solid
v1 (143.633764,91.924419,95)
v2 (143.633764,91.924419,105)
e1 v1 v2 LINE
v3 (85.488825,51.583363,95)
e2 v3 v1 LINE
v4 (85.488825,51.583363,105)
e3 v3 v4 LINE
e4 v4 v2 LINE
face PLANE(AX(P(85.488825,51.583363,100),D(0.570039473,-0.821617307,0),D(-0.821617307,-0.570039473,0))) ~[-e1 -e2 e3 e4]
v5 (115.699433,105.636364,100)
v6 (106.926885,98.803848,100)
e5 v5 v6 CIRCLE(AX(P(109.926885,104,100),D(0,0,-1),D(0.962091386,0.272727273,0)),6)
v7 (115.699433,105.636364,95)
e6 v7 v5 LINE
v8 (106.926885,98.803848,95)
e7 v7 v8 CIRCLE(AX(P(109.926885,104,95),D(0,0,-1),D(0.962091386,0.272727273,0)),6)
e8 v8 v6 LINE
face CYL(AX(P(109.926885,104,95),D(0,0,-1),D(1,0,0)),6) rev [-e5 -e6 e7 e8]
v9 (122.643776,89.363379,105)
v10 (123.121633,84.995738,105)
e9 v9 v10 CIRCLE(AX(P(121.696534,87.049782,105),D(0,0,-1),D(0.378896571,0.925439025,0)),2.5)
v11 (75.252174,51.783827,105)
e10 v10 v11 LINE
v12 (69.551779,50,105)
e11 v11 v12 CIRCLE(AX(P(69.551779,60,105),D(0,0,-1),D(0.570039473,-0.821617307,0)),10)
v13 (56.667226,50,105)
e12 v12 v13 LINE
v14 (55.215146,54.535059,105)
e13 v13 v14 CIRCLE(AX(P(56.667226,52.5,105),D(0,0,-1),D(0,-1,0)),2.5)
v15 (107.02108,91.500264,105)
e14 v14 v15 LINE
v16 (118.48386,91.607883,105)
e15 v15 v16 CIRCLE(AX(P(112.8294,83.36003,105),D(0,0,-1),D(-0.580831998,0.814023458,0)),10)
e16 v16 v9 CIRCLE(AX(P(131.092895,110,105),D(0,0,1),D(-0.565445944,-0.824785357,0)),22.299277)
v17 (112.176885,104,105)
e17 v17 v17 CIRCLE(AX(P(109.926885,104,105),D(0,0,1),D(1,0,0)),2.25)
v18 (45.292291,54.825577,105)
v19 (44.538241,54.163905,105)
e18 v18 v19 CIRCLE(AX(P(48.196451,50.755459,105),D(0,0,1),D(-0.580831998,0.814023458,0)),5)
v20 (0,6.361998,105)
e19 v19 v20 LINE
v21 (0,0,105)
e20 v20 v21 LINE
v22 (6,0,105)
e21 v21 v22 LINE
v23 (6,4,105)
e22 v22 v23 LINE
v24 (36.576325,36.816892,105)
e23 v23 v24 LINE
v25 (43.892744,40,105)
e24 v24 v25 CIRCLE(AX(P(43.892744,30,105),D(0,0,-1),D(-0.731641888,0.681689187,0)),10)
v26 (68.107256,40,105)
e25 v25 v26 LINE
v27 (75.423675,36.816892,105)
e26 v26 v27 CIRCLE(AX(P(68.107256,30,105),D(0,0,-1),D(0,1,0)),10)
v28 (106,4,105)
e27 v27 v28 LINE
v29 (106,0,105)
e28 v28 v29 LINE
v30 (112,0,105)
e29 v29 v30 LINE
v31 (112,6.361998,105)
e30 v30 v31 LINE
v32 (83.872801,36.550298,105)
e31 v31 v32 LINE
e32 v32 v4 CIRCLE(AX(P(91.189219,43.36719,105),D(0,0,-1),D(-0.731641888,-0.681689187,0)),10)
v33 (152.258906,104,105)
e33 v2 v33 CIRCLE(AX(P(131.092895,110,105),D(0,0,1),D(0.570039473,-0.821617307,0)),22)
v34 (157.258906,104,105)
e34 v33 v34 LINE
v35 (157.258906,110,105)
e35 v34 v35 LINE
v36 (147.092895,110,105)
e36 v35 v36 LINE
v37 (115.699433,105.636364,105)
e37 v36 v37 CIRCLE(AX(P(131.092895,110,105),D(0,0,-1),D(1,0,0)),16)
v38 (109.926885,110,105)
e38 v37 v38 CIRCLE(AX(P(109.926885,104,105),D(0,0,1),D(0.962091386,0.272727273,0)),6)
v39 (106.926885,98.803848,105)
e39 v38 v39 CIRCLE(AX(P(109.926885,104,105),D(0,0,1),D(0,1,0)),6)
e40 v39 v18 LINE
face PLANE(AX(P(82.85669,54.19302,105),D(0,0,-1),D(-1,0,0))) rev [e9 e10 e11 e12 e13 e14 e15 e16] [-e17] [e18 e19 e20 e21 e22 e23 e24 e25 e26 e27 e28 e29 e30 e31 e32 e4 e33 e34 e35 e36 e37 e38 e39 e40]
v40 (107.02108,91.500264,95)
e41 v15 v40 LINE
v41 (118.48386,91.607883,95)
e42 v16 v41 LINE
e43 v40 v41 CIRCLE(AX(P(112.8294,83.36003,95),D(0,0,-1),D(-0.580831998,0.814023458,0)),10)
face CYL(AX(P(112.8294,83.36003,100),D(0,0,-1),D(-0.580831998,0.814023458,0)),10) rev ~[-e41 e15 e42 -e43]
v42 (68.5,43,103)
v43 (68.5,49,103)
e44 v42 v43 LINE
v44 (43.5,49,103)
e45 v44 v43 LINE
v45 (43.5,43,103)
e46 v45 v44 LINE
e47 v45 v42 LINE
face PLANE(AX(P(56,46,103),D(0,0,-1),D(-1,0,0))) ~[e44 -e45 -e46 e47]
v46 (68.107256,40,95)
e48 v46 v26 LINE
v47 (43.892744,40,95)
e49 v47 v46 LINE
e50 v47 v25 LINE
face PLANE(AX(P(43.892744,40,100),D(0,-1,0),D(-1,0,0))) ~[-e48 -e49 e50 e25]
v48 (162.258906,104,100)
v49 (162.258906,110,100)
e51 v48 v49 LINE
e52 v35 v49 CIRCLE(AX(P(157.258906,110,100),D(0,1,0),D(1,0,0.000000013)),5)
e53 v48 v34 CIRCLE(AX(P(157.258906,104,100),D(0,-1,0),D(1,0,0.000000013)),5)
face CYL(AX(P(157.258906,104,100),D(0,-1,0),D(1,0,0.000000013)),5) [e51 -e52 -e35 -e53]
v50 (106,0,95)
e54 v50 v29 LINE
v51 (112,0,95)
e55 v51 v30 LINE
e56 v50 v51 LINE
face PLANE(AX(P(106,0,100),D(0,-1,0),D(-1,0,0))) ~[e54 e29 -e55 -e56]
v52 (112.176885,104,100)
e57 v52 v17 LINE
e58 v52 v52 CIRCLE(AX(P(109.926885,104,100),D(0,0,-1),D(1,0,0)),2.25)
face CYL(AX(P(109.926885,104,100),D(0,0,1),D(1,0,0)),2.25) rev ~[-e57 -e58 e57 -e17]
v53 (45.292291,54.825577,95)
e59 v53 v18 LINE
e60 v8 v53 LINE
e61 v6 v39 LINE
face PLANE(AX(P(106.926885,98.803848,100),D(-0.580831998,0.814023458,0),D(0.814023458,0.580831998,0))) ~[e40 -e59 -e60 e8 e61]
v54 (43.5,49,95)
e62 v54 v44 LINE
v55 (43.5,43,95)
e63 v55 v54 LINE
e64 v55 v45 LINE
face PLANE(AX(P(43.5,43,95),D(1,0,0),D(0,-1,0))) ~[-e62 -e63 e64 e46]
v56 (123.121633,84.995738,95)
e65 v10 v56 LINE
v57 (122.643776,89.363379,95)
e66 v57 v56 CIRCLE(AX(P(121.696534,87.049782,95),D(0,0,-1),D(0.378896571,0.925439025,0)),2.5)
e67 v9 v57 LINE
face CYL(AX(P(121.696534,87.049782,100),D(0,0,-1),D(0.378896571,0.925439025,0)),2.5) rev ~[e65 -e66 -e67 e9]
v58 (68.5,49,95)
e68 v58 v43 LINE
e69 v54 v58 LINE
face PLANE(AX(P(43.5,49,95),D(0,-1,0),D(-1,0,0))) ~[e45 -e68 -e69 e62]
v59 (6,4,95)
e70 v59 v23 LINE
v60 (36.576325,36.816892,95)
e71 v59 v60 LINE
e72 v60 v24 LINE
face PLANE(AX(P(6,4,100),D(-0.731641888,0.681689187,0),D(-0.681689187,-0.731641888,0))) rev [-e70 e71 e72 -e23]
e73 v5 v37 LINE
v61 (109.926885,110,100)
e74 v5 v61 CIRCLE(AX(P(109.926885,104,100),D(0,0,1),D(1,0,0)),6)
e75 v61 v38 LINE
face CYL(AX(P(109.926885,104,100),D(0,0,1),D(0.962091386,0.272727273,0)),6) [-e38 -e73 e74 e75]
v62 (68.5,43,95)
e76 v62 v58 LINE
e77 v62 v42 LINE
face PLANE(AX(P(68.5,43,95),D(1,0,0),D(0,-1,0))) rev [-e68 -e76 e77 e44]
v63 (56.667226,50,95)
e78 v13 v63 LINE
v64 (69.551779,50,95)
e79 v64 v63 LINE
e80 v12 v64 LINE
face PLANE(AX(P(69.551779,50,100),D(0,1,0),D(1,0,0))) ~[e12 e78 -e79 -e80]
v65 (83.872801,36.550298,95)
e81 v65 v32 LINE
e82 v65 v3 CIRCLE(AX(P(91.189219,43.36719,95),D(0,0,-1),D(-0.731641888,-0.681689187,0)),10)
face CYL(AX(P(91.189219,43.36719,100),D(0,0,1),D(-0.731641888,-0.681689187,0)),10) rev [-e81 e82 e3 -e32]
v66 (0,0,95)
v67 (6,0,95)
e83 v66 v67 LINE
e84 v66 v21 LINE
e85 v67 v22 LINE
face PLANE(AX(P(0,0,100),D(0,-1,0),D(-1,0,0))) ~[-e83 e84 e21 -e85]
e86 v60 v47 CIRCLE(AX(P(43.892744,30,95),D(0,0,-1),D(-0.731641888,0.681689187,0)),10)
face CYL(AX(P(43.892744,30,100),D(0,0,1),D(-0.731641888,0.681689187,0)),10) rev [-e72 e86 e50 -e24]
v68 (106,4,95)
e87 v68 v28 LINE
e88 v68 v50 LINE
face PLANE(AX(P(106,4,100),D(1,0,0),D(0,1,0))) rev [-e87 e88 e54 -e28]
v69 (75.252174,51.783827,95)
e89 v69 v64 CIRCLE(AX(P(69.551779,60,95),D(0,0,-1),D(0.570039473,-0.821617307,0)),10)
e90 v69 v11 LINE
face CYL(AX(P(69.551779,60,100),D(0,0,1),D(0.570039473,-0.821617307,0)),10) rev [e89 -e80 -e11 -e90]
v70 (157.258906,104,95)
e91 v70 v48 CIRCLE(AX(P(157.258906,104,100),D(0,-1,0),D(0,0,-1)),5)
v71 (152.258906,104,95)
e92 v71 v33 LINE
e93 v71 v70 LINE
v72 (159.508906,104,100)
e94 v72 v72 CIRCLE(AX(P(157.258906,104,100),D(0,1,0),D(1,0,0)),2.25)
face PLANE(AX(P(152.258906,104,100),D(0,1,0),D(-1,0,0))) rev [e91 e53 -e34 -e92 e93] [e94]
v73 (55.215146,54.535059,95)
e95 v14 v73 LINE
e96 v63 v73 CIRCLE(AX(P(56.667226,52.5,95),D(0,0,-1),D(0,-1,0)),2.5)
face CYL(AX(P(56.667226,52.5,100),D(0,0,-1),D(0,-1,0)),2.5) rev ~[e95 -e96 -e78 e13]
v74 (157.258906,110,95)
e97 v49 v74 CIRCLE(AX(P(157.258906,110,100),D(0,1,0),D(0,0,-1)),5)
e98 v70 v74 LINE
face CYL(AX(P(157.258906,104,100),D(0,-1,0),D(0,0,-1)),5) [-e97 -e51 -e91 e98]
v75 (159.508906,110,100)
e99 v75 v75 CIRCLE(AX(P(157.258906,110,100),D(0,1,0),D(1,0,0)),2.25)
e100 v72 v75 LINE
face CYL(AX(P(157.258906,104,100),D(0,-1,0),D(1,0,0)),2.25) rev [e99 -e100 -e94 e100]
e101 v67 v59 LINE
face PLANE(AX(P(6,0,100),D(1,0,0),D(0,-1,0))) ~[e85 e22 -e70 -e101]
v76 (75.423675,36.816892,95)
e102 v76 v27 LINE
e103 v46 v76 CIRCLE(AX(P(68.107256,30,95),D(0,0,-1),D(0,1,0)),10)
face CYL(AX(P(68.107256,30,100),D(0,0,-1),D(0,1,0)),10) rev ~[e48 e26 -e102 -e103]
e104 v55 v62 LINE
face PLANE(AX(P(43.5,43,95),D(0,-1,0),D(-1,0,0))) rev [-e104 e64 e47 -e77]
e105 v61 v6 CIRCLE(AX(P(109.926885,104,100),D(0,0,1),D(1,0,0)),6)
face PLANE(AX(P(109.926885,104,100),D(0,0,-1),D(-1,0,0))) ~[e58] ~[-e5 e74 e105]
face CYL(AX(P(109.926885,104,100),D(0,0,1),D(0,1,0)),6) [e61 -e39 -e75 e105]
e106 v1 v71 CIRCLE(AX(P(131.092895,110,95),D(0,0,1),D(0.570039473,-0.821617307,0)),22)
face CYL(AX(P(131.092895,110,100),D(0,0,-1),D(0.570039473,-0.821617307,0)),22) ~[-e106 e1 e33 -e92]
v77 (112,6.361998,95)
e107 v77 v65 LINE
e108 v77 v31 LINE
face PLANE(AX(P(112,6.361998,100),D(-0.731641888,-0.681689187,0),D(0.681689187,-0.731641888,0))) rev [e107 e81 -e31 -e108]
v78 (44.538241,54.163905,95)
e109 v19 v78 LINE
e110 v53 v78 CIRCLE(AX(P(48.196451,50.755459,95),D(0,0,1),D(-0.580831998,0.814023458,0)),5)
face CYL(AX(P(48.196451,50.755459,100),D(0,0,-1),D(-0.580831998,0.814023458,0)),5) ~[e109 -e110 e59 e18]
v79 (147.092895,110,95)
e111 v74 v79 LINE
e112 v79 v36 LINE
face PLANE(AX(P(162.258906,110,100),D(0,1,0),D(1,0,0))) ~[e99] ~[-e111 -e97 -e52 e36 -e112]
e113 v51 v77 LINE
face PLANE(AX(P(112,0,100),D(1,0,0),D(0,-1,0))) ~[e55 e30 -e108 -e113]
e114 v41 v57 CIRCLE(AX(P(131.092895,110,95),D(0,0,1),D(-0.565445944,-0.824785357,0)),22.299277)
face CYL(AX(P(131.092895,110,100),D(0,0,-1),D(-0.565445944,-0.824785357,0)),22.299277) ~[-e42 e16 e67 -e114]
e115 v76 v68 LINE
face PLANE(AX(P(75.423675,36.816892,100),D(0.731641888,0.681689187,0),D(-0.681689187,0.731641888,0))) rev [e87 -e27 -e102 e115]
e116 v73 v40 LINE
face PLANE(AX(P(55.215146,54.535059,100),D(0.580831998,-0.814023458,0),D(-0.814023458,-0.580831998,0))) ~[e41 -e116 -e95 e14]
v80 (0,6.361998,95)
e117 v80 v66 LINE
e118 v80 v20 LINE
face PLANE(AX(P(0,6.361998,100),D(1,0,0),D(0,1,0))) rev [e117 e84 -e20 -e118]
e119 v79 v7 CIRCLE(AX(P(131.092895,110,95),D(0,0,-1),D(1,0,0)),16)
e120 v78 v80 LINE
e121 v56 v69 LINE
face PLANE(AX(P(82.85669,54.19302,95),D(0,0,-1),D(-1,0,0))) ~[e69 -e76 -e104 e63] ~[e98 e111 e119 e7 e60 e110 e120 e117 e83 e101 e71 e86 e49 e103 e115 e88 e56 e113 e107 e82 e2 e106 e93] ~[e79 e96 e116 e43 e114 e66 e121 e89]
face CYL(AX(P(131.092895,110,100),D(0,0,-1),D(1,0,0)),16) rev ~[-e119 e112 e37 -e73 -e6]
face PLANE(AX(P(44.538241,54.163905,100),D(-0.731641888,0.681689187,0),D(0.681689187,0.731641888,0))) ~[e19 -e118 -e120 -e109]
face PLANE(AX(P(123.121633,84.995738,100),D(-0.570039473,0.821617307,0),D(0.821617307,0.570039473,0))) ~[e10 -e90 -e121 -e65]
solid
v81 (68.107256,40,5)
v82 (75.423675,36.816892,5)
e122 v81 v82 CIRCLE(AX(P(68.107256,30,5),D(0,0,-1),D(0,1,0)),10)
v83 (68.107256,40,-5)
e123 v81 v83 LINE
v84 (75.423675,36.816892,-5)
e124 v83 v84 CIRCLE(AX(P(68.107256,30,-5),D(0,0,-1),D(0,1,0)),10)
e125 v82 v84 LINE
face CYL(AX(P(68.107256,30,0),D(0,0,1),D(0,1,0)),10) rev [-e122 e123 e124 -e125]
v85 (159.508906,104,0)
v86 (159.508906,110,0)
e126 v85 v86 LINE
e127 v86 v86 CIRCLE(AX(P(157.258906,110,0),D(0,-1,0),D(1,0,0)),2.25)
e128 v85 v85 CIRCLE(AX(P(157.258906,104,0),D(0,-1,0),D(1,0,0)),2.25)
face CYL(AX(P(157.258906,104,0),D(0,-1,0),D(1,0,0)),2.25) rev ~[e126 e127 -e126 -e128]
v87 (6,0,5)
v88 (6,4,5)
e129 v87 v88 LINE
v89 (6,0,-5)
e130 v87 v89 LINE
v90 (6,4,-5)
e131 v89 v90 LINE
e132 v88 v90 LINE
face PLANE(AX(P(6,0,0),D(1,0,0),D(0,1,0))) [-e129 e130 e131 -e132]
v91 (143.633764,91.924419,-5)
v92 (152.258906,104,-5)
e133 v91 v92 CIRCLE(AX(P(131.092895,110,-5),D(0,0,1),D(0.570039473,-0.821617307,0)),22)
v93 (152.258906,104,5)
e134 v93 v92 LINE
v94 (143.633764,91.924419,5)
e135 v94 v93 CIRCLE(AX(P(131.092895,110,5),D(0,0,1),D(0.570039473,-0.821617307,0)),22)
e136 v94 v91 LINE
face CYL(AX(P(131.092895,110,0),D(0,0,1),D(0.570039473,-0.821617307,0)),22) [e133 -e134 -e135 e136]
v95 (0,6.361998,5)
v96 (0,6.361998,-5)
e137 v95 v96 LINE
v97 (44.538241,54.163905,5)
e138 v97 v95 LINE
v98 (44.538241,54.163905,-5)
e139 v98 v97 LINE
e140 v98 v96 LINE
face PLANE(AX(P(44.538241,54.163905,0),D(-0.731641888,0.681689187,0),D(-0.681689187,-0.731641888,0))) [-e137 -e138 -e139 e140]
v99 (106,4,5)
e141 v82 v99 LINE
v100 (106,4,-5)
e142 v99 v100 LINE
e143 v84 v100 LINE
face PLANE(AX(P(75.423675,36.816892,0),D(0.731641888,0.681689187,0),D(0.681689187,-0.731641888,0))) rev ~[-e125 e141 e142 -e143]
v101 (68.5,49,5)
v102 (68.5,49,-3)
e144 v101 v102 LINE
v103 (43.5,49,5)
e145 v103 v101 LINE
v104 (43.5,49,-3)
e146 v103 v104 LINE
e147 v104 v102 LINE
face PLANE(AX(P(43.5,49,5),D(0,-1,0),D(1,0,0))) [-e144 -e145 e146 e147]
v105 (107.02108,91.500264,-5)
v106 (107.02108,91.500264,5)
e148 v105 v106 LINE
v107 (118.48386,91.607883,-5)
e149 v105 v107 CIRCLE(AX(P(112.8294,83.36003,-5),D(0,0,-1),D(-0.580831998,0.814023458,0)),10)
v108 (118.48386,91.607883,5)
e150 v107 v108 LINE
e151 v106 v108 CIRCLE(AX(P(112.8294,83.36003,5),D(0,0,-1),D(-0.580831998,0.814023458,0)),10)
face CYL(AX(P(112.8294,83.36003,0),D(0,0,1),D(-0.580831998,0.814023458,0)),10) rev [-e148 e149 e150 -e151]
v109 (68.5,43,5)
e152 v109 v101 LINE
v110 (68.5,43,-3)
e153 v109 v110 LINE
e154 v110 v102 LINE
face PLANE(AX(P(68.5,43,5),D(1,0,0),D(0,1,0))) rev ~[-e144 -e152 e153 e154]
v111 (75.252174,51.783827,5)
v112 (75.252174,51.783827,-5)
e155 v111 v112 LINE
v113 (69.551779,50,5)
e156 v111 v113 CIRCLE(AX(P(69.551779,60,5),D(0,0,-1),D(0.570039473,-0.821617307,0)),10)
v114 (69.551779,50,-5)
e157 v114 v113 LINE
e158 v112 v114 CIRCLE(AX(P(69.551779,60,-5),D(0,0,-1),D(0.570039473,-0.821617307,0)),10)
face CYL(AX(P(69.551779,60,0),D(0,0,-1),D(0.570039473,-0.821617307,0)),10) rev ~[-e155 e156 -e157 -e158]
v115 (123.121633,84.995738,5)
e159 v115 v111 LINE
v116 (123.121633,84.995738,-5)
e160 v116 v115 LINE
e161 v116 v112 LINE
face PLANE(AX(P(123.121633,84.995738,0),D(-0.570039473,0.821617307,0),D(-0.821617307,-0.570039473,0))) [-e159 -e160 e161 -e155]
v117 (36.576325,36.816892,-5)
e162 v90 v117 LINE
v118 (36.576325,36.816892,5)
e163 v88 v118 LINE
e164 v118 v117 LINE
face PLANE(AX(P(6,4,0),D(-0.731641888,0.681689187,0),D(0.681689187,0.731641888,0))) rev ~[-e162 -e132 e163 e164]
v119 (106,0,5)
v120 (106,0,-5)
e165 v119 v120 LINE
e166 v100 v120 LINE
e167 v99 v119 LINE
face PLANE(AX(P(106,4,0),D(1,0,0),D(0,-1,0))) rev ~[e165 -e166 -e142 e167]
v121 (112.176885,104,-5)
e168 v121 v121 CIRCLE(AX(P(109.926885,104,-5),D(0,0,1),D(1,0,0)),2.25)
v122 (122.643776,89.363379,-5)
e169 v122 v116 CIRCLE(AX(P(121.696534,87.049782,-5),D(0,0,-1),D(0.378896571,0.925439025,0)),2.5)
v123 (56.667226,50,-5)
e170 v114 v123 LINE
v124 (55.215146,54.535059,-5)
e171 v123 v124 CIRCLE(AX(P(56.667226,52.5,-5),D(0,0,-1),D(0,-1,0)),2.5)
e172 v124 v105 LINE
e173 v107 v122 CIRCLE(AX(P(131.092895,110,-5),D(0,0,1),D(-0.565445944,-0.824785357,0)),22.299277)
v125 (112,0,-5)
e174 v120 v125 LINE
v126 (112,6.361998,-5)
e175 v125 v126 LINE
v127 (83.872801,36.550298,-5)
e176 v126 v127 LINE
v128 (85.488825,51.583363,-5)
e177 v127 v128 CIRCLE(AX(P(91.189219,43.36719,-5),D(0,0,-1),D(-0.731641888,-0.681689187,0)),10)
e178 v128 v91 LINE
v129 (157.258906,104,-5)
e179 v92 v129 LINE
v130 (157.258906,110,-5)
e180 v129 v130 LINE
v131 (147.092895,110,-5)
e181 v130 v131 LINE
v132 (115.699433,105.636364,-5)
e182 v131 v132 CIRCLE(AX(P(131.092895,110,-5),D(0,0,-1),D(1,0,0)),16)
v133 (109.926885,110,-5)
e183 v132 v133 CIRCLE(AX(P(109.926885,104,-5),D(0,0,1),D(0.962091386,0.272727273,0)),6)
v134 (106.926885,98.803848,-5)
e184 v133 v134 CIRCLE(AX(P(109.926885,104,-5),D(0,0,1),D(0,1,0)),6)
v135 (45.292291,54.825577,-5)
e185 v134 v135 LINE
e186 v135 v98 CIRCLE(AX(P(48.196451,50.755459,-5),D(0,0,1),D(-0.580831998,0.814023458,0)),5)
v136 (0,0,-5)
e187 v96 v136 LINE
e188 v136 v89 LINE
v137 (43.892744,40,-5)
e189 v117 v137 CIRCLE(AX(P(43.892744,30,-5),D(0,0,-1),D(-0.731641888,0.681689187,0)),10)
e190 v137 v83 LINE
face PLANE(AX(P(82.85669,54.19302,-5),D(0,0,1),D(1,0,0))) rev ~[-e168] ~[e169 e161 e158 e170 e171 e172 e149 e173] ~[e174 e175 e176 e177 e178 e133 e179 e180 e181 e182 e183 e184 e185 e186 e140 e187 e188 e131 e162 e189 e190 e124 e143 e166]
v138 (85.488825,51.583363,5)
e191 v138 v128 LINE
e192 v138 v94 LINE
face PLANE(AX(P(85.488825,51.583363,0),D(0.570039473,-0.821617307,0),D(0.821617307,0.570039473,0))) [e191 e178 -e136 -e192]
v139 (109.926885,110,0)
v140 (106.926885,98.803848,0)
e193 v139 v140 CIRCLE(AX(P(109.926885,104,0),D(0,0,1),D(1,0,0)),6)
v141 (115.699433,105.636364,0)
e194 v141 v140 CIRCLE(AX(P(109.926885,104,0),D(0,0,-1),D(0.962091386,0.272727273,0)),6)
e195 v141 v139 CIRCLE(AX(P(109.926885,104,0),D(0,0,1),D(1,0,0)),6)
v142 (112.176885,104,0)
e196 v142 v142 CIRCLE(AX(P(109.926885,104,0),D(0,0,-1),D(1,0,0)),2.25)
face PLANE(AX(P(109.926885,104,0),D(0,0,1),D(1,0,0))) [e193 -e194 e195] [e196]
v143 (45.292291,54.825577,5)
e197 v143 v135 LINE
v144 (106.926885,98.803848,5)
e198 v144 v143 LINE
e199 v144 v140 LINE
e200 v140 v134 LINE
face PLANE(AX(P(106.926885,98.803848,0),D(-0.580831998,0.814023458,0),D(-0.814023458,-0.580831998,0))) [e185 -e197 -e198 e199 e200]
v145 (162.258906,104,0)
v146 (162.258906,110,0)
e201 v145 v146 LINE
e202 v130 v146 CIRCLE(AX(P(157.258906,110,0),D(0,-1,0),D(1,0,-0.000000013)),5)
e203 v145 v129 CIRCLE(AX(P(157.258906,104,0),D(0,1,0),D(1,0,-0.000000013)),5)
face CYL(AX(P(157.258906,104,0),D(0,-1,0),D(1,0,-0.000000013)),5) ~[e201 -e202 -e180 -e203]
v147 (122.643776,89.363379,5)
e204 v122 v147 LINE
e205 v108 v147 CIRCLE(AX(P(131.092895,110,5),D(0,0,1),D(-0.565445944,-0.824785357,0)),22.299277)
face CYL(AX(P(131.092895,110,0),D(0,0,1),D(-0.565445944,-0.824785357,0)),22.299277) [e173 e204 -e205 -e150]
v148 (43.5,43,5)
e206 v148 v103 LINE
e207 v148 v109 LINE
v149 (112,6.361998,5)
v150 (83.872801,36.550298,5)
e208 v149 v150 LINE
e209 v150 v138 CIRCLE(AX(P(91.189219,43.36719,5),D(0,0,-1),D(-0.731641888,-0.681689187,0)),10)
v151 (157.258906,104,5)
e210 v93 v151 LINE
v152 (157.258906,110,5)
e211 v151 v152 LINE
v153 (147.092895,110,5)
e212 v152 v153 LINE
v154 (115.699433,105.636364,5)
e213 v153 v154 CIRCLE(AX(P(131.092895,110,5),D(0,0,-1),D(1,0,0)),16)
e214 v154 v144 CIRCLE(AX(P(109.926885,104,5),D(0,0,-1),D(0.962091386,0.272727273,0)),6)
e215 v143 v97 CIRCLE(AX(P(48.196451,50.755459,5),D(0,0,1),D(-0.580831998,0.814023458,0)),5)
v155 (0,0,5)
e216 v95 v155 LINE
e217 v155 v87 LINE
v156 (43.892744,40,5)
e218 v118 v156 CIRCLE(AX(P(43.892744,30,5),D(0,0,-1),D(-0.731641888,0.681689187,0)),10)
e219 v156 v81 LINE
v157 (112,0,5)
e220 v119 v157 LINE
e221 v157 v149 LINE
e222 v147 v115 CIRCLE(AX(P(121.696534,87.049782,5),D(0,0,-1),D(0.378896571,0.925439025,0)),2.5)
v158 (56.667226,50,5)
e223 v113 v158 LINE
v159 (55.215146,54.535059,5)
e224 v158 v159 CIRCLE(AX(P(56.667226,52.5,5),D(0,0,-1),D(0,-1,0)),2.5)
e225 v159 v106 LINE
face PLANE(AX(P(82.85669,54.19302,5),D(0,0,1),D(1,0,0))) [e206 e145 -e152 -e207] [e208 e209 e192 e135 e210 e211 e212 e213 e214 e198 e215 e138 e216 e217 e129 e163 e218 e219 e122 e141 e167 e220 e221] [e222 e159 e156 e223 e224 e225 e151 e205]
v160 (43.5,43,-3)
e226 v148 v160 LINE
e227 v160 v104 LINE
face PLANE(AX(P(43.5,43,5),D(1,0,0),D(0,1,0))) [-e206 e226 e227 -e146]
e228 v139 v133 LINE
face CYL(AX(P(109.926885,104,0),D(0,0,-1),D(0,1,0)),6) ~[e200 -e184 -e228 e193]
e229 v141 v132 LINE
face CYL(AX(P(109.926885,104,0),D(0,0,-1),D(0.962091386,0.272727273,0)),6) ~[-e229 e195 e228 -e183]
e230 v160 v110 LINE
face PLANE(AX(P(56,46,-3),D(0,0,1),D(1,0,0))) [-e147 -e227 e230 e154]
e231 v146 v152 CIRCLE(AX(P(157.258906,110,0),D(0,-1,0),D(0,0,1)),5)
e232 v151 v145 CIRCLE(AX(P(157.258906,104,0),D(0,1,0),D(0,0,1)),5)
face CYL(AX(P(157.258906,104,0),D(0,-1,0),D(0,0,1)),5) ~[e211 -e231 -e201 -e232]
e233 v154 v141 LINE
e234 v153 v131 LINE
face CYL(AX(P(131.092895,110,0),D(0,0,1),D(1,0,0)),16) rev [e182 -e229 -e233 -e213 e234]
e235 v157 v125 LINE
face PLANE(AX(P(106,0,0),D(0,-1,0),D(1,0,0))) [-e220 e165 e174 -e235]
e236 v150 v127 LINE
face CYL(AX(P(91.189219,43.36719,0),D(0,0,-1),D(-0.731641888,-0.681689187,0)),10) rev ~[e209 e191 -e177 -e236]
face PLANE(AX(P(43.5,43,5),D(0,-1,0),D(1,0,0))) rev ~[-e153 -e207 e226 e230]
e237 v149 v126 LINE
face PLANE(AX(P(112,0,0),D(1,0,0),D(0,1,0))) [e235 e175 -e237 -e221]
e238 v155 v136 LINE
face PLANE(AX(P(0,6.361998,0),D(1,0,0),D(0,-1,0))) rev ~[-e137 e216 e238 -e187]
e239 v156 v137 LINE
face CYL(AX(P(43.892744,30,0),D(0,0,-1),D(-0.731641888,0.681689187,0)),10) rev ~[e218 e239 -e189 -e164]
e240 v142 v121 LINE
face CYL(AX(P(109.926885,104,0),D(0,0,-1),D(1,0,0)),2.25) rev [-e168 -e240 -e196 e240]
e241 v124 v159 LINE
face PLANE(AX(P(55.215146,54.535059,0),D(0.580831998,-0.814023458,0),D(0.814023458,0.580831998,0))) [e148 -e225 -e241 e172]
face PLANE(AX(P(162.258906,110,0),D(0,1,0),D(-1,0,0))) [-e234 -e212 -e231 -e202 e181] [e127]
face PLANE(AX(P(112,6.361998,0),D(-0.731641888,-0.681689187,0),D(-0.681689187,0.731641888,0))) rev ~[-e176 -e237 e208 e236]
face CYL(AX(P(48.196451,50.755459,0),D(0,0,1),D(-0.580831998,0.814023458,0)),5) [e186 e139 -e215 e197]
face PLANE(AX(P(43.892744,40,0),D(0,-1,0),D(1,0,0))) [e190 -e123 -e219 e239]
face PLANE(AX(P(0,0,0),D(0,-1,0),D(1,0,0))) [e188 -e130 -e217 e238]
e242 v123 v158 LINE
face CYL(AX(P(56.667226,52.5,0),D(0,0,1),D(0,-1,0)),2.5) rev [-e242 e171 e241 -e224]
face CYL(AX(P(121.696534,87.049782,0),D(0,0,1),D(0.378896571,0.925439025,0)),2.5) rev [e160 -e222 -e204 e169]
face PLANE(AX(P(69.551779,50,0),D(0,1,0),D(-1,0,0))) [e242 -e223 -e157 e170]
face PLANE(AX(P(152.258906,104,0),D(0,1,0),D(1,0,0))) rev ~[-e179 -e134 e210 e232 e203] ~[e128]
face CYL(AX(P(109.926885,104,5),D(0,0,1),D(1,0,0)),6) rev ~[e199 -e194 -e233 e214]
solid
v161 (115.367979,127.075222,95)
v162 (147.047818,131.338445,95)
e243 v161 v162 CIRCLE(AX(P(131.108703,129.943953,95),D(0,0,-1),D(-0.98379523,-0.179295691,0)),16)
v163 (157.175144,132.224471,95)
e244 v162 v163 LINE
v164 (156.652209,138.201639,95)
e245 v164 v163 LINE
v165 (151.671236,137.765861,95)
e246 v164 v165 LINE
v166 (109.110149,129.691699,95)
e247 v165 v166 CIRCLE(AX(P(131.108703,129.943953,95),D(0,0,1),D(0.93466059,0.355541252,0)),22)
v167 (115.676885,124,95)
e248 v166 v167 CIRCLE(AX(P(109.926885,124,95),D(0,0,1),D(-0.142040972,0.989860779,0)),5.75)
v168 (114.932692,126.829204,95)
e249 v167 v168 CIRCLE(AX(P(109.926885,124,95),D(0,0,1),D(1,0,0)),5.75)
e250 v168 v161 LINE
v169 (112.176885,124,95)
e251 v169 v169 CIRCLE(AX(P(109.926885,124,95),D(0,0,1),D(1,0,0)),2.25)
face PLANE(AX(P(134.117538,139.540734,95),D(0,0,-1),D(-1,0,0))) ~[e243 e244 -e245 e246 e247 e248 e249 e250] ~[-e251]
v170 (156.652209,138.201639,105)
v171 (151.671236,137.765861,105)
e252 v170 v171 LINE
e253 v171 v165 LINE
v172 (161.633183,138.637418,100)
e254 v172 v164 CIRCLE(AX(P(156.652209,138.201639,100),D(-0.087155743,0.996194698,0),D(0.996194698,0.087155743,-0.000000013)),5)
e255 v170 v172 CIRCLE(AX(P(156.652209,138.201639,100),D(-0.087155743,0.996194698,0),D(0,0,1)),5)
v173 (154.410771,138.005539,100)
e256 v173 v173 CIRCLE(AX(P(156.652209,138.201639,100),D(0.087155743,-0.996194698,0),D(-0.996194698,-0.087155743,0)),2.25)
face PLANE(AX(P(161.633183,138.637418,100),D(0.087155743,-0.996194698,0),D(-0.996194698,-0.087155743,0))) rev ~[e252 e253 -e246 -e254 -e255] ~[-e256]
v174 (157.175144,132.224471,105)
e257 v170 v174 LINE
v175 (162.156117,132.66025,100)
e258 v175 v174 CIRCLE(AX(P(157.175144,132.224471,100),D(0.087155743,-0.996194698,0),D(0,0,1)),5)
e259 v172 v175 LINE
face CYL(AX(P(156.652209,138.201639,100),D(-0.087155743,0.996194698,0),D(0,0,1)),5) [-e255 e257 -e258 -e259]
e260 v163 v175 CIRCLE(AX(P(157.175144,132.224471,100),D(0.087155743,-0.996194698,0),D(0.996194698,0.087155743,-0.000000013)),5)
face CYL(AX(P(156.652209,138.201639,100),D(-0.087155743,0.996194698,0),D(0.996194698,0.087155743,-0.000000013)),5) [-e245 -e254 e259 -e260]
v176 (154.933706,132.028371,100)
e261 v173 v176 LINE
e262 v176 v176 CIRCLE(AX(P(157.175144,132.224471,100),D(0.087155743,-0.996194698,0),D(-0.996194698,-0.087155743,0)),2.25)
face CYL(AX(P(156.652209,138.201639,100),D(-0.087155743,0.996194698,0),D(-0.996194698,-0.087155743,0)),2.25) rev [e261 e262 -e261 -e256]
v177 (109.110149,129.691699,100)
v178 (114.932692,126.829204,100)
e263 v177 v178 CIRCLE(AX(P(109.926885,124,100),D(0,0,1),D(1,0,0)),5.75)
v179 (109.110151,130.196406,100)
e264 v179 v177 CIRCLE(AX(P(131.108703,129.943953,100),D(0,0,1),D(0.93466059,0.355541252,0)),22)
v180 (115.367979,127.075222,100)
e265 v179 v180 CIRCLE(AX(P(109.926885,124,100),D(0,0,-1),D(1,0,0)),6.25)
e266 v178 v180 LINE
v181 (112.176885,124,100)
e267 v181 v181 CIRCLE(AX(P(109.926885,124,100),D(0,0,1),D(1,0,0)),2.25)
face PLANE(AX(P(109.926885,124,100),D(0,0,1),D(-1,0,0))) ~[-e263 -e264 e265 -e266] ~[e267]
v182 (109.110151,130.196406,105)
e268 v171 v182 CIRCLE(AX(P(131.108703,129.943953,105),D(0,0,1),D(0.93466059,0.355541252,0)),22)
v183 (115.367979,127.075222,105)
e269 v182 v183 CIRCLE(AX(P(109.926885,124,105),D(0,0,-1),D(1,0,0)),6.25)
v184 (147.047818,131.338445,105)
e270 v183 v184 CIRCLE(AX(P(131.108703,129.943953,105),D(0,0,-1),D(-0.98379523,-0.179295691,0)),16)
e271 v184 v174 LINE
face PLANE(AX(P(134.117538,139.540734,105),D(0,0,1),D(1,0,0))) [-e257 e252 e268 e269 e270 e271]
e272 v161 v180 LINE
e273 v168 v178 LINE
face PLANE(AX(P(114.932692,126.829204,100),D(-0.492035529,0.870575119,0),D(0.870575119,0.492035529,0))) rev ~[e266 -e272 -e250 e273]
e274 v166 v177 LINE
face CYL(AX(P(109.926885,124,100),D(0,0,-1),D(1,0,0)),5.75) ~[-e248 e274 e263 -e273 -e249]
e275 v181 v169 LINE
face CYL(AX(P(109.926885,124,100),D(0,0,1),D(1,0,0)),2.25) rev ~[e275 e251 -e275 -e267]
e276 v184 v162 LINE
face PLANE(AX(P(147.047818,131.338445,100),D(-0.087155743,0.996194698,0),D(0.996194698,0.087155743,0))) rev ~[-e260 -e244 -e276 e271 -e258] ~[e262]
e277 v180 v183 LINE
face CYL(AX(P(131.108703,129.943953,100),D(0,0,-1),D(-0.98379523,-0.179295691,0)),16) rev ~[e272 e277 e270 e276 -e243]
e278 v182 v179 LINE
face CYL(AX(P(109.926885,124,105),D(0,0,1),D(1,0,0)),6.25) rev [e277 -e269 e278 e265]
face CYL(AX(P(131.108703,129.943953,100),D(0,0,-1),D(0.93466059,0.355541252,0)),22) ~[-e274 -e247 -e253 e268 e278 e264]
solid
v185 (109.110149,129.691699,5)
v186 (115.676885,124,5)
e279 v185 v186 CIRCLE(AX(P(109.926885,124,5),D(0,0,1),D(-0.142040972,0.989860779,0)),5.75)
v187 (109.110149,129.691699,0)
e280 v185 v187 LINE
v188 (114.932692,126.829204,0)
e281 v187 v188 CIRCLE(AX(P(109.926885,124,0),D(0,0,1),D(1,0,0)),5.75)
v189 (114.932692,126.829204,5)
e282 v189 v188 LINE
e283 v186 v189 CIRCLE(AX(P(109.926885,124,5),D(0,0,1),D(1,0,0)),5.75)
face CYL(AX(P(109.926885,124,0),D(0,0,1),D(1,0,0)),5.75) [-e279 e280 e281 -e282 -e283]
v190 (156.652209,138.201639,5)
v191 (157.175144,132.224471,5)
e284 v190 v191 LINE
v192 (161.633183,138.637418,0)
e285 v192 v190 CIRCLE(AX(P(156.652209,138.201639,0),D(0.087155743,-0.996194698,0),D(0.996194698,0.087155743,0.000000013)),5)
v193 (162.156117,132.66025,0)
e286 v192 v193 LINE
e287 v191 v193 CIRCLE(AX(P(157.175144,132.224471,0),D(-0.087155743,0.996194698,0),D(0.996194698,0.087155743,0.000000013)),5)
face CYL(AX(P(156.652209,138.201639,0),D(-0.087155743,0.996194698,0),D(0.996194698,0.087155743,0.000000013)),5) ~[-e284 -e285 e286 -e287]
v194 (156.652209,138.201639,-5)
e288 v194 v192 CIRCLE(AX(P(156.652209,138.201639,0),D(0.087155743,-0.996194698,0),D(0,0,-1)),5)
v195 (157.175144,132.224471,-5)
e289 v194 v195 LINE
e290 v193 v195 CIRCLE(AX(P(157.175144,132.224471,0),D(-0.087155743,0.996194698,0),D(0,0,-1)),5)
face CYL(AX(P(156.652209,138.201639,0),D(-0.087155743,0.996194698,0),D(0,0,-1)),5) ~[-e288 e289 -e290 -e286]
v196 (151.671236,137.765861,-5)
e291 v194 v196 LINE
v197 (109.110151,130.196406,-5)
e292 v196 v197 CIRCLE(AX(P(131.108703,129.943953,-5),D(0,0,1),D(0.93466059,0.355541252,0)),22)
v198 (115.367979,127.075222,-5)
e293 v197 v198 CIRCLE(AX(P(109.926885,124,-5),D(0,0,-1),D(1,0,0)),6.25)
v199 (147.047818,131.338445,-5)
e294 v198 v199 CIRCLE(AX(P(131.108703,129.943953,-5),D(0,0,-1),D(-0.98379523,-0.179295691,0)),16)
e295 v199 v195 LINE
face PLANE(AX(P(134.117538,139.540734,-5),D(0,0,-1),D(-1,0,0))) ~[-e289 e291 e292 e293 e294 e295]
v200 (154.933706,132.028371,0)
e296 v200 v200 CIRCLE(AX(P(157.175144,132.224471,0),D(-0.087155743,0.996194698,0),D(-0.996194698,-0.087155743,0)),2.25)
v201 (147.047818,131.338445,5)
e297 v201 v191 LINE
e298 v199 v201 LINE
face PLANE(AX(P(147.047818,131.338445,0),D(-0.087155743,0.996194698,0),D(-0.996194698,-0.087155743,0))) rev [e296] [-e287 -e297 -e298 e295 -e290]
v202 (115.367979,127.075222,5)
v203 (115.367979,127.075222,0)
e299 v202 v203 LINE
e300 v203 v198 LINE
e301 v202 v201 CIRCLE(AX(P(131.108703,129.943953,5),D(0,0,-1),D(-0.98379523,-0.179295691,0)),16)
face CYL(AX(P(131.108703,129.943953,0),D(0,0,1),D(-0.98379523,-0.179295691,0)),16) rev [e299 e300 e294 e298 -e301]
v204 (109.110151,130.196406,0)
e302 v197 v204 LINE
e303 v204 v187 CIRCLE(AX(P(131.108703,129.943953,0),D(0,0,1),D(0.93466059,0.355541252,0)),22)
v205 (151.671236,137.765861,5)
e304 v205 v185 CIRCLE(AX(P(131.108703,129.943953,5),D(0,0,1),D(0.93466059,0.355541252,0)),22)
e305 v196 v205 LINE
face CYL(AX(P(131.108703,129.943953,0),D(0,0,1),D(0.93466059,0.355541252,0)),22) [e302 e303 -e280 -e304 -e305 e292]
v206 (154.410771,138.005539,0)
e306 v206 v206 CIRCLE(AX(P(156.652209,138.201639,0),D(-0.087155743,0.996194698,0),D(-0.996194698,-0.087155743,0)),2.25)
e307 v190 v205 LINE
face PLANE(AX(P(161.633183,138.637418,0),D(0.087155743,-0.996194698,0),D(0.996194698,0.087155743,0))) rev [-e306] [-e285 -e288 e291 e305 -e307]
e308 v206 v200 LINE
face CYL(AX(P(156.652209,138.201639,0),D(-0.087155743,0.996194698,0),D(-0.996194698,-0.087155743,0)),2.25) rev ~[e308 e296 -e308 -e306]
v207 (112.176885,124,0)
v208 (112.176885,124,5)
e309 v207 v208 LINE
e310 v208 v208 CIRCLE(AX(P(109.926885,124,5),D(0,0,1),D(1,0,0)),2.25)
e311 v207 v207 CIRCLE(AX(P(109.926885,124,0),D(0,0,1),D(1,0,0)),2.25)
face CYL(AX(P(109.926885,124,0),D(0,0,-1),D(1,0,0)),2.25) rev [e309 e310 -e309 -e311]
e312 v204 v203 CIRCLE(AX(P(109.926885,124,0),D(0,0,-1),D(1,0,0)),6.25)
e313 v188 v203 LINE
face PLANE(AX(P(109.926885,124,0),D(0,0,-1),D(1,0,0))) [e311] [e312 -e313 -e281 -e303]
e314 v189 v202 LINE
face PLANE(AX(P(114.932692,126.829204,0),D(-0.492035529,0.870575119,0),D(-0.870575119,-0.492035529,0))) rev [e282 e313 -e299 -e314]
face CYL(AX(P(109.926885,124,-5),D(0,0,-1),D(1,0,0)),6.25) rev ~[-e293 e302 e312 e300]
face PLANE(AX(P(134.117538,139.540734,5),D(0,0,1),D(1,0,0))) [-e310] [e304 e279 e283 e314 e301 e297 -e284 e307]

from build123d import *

# Parameters (mm, degrees)
F0_R      = 2.25
F1_DEPTH  = 5
F2_R      = 2.25
F3_DEPTH  = 6.001
F4_W      = 25
F4_H      = 6
F5_DEPTH  = 8
F6_R      = 6
F7_DEPTH  = 5
F8_R      = 2.25
F9_DEPTH  = 5
F11_R     = 6.25
F12_DEPTH = 5
F13_R     = 2.25
F14_DEPTH = 138.1653961935


with BuildPart() as f1:
    # F0 (on Top) → F1 (new body, symmetric)
    with BuildSketch(Plane.XY):
        with BuildLine():
            ThreePointArc((45.2922908759, 54.8255765516), (44.8986295563, 54.513700155), (44.5382414229, 54.1639051942))
            Line((44.5382414229, 54.1639051942), (0, 6.3619982556))
            Line((0, 6.3619982556), (0, 0))
            Line((0, 0), (6, 0))
            Line((6, 0), (6, 4))
            Line((6, 4), (36.5763252199, 36.8168918662))
            ThreePointArc((36.5763252199, 36.8168918662), (39.9033154895, 39.1697578666), (43.8927441038, 40))
            Line((43.8927441038, 40), (68.1072558962, 40))
            ThreePointArc((68.1072558962, 40), (72.0966845105, 39.1697578666), (75.4236747801, 36.8168918662))
            Line((75.4236747801, 36.8168918662), (106, 4))
            Line((106, 4), (106, 0))
            Line((106, 0), (112, 0))
            Line((112, 0), (112, 6.3619982556))
            Line((112, 6.3619982556), (83.8728006028, 36.5502976826))
            Line((83.8728006028, 36.5502976826), (76, 45))
            Line((76, 45), (85.4888247547, 51.5833626179))
            Line((85.4888247547, 51.5833626179), (143.6337635957, 91.9244192482))
            ThreePointArc((143.6337635957, 91.9244192482), (148.9952227966, 97.2130274849), (152.2589056739, 104))
            Line((152.2589056739, 104), (162.2589056739, 104))
            Line((162.2589056739, 104), (162.2589056739, 110))
            Line((162.2589056739, 110), (147.0928951854, 110))
            ThreePointArc((147.0928951854, 110), (133.2956894591, 94.1523598795), (115.6994330119, 105.6363636364))
            ThreePointArc((115.6994330119, 105.6363636364), (113.5450208318, 108.7863442113), (109.9268846968, 110))
            ThreePointArc((109.9268846968, 110), (104.1313297391, 105.5529142706), (106.9268846968, 98.8038475773))
            Line((106.9268846968, 98.8038475773), (45.2922908759, 54.8255765516))
        make_face()
        with BuildLine():
            Line((56.6672257254, 50), (48.8593593156, 50))
            Line((48.8593593156, 50), (55.215145731, 54.5350586453))
            Line((55.215145731, 54.5350586453), (107.0210802666, 91.5002641979))
            Line((107.0210802666, 91.5002641979), (113.5878346684, 96.1858553074))
            ThreePointArc((113.5878346684, 96.1858553074), (115.8628540828, 93.7118575245), (118.4838596808, 91.6078831851))
            ThreePointArc((118.4838596808, 91.6078831851), (120.5041784556, 90.3750970625), (122.6437757421, 89.3633792029))
            ThreePointArc((122.6437757421, 89.3633792029), (125.0094620608, 88.5465718658), (127.4517775973, 88))
            Line((127.4517775973, 88), (123.1216329975, 84.9957383738))
            Line((123.1216329975, 84.9957383738), (75.2521739169, 51.783826931))
            ThreePointArc((75.2521739169, 51.783826931), (72.5382712165, 50.4563704313), (69.5517791849, 50))
            Line((69.5517791849, 50), (56.6672257254, 50))
        make_face(mode=Mode.SUBTRACT)
        with Locations((109.9268846968, 104)):
            Circle(F0_R, mode=Mode.SUBTRACT)
        with BuildLine():
            ThreePointArc((83.8728006028, 36.5502976826), (81.2465025786, 44.4360115574), (85.4888247547, 51.5833626179))
            Line((85.4888247547, 51.5833626179), (76, 45))
            Line((76, 45), (83.8728006028, 36.5502976826))
        make_face()
        with BuildLine():
            Line((55.215145731, 54.5350586453), (48.8593593156, 50))
            Line((48.8593593156, 50), (56.6672257254, 50))
            ThreePointArc((56.6672257254, 50), (54.2862966407, 51.7376505438), (55.215145731, 54.5350586453))
        make_face()
        with BuildLine():
            Line((113.5878346684, 96.1858553074), (107.0210802666, 91.5002641979))
            ThreePointArc((107.0210802666, 91.5002641979), (112.7355187864, 93.3595889207), (118.4838596808, 91.6078831851))
            ThreePointArc((118.4838596808, 91.6078831851), (115.8628540828, 93.7118575245), (113.5878346684, 96.1858553074))
        make_face()
        with BuildLine():
            ThreePointArc((122.6437757421, 89.3633792029), (124.1817045306, 87.321680514), (123.1216329975, 84.9957383738))
            Line((123.1216329975, 84.9957383738), (127.4517775973, 88))
            ThreePointArc((127.4517775973, 88), (125.0094620608, 88.5465718658), (122.6437757421, 89.3633792029))
        make_face()
    extrude(amount=F1_DEPTH, both=True)

    # F2 (on face) → F3 (cut, through all)
    with BuildSketch(Plane.XZ.offset(-104)):
        with Locations((157.2589056739, 0)):
            Circle(F2_R)
        with BuildLine():
            ThreePointArc((157.2589056739, 5), (160.7944396027, 3.5355338831), (162.2589056739, -6.47e-08))
            Line((162.2589056739, -6.47e-08), (162.2589056739, 5))
            Line((162.2589056739, 5), (157.2589056739, 5))
        make_face()
        with BuildLine():
            ThreePointArc((162.2589056739, -6.47e-08), (160.7944395569, -3.5355339288), (157.2589056739, -5))
            Line((157.2589056739, -5), (162.2589056739, -5))
            Line((162.2589056739, -5), (162.2589056739, -6.47e-08))
        make_face()
    extrude(amount=-F3_DEPTH, mode=Mode.SUBTRACT)

    # F4 (on face) → F5 (cut)
    with BuildSketch(Plane.XY.offset(5)):
        with Locations((56, 46)):
            Rectangle(F4_W, F4_H)
    extrude(amount=-F5_DEPTH, mode=Mode.SUBTRACT)

    # F6 (on face) → F7 (cut)
    with BuildSketch(Plane.XY.offset(5)):
        with Locations((109.9268846968, 104)):
            Circle(F6_R)
    extrude(amount=-F7_DEPTH, mode=Mode.SUBTRACT)


with BuildPart() as f9:
    # F8 (on Top) → F9 (new body)
    with BuildSketch(Plane.XY):
        with BuildLine():
            ThreePointArc((115.3679791924, 127.0752220554), (128.9747845953, 145.801014395), (147.0478180481, 131.3384449888))
            Line((147.0478180481, 131.3384449888), (162.156117288, 132.6602498974))
            Line((162.156117288, 132.6602498974), (161.6331828315, 138.637418086))
            Line((161.6331828315, 138.637418086), (151.6712358506, 137.7658606585))
            ThreePointArc((151.6712358506, 137.7658606585), (127.0082689238, 151.5584491985), (109.1101491055, 129.6916994803))
            ThreePointArc((109.1101491055, 129.6916994803), (112.4637231544, 129.1601308743), (114.9326916328, 126.829204291))
            Line((114.9326916328, 126.829204291), (115.3679791924, 127.0752220554))
        make_face()
        with BuildLine():
            ThreePointArc((115.6768846968, 124), (115.4877250057, 125.4627217983), (114.9326916328, 126.829204291))
            ThreePointArc((114.9326916328, 126.829204291), (112.4637231544, 129.1601308743), (109.1101491055, 129.6916994803))
            ThreePointArc((109.1101491055, 129.6916994803), (106.1608343553, 119.6549608949), (115.6768846968, 124))
        make_face()
        with Locations((109.9268846968, 124)):
            Circle(F8_R, mode=Mode.SUBTRACT)
    extrude(amount=F9_DEPTH)

    # F10: F9 across plane


with BuildPart() as f9_1:
    add(f9.part)
    add(f9.part.mirror(Plane.XY))

    # F11 (on face) → F12 (cut)
    with BuildSketch(Plane(origin=(0, 0, -5), x_dir=(1, 0, 0), z_dir=(0, 0, -1))):
        with Locations((109.9268846968, -124)):
            Circle(F11_R)
    extrude(amount=-F12_DEPTH, mode=Mode.SUBTRACT)

    # F13 (on face) → F14 (cut, through all)
    with BuildSketch(Plane(origin=(-10.809281886, 123.5506573127, 0), x_dir=(-0.9961946981, -0.0871557427, 0), z_dir=(-0.0871557427, 0.9961946981, 0))):
        with Locations((-168.1011669183, 0)):
            Circle(F13_R)
        with BuildLine():
            ThreePointArc((-168.1011669183, -5), (-171.6367008471, -3.5355338831), (-173.1011669183, 6.47e-08))
            Line((-173.1011669183, 6.47e-08), (-173.1011669183, -5))
            Line((-173.1011669183, -5), (-168.1011669183, -5))
        make_face()
        with BuildLine():
            ThreePointArc((-173.1011669183, 6.47e-08), (-171.6367008014, 3.5355339288), (-168.1011669183, 5))
            Line((-168.1011669183, 5), (-173.1011669183, 5))
            Line((-173.1011669183, 5), (-173.1011669183, 6.47e-08))
        make_face()
    extrude(amount=-F14_DEPTH, mode=Mode.SUBTRACT)


with BuildPart() as f16_1:
    # F16: instance of F1
    add(f1.part.mirror(Plane.XY.offset(50)))


with BuildPart() as f17_1:
    # F17: instance of F9
    add(f9_1.part.mirror(Plane.XY.offset(50)))


solid = Compound([f1.part, f9_1.part, f16_1.part, f17_1.part])
